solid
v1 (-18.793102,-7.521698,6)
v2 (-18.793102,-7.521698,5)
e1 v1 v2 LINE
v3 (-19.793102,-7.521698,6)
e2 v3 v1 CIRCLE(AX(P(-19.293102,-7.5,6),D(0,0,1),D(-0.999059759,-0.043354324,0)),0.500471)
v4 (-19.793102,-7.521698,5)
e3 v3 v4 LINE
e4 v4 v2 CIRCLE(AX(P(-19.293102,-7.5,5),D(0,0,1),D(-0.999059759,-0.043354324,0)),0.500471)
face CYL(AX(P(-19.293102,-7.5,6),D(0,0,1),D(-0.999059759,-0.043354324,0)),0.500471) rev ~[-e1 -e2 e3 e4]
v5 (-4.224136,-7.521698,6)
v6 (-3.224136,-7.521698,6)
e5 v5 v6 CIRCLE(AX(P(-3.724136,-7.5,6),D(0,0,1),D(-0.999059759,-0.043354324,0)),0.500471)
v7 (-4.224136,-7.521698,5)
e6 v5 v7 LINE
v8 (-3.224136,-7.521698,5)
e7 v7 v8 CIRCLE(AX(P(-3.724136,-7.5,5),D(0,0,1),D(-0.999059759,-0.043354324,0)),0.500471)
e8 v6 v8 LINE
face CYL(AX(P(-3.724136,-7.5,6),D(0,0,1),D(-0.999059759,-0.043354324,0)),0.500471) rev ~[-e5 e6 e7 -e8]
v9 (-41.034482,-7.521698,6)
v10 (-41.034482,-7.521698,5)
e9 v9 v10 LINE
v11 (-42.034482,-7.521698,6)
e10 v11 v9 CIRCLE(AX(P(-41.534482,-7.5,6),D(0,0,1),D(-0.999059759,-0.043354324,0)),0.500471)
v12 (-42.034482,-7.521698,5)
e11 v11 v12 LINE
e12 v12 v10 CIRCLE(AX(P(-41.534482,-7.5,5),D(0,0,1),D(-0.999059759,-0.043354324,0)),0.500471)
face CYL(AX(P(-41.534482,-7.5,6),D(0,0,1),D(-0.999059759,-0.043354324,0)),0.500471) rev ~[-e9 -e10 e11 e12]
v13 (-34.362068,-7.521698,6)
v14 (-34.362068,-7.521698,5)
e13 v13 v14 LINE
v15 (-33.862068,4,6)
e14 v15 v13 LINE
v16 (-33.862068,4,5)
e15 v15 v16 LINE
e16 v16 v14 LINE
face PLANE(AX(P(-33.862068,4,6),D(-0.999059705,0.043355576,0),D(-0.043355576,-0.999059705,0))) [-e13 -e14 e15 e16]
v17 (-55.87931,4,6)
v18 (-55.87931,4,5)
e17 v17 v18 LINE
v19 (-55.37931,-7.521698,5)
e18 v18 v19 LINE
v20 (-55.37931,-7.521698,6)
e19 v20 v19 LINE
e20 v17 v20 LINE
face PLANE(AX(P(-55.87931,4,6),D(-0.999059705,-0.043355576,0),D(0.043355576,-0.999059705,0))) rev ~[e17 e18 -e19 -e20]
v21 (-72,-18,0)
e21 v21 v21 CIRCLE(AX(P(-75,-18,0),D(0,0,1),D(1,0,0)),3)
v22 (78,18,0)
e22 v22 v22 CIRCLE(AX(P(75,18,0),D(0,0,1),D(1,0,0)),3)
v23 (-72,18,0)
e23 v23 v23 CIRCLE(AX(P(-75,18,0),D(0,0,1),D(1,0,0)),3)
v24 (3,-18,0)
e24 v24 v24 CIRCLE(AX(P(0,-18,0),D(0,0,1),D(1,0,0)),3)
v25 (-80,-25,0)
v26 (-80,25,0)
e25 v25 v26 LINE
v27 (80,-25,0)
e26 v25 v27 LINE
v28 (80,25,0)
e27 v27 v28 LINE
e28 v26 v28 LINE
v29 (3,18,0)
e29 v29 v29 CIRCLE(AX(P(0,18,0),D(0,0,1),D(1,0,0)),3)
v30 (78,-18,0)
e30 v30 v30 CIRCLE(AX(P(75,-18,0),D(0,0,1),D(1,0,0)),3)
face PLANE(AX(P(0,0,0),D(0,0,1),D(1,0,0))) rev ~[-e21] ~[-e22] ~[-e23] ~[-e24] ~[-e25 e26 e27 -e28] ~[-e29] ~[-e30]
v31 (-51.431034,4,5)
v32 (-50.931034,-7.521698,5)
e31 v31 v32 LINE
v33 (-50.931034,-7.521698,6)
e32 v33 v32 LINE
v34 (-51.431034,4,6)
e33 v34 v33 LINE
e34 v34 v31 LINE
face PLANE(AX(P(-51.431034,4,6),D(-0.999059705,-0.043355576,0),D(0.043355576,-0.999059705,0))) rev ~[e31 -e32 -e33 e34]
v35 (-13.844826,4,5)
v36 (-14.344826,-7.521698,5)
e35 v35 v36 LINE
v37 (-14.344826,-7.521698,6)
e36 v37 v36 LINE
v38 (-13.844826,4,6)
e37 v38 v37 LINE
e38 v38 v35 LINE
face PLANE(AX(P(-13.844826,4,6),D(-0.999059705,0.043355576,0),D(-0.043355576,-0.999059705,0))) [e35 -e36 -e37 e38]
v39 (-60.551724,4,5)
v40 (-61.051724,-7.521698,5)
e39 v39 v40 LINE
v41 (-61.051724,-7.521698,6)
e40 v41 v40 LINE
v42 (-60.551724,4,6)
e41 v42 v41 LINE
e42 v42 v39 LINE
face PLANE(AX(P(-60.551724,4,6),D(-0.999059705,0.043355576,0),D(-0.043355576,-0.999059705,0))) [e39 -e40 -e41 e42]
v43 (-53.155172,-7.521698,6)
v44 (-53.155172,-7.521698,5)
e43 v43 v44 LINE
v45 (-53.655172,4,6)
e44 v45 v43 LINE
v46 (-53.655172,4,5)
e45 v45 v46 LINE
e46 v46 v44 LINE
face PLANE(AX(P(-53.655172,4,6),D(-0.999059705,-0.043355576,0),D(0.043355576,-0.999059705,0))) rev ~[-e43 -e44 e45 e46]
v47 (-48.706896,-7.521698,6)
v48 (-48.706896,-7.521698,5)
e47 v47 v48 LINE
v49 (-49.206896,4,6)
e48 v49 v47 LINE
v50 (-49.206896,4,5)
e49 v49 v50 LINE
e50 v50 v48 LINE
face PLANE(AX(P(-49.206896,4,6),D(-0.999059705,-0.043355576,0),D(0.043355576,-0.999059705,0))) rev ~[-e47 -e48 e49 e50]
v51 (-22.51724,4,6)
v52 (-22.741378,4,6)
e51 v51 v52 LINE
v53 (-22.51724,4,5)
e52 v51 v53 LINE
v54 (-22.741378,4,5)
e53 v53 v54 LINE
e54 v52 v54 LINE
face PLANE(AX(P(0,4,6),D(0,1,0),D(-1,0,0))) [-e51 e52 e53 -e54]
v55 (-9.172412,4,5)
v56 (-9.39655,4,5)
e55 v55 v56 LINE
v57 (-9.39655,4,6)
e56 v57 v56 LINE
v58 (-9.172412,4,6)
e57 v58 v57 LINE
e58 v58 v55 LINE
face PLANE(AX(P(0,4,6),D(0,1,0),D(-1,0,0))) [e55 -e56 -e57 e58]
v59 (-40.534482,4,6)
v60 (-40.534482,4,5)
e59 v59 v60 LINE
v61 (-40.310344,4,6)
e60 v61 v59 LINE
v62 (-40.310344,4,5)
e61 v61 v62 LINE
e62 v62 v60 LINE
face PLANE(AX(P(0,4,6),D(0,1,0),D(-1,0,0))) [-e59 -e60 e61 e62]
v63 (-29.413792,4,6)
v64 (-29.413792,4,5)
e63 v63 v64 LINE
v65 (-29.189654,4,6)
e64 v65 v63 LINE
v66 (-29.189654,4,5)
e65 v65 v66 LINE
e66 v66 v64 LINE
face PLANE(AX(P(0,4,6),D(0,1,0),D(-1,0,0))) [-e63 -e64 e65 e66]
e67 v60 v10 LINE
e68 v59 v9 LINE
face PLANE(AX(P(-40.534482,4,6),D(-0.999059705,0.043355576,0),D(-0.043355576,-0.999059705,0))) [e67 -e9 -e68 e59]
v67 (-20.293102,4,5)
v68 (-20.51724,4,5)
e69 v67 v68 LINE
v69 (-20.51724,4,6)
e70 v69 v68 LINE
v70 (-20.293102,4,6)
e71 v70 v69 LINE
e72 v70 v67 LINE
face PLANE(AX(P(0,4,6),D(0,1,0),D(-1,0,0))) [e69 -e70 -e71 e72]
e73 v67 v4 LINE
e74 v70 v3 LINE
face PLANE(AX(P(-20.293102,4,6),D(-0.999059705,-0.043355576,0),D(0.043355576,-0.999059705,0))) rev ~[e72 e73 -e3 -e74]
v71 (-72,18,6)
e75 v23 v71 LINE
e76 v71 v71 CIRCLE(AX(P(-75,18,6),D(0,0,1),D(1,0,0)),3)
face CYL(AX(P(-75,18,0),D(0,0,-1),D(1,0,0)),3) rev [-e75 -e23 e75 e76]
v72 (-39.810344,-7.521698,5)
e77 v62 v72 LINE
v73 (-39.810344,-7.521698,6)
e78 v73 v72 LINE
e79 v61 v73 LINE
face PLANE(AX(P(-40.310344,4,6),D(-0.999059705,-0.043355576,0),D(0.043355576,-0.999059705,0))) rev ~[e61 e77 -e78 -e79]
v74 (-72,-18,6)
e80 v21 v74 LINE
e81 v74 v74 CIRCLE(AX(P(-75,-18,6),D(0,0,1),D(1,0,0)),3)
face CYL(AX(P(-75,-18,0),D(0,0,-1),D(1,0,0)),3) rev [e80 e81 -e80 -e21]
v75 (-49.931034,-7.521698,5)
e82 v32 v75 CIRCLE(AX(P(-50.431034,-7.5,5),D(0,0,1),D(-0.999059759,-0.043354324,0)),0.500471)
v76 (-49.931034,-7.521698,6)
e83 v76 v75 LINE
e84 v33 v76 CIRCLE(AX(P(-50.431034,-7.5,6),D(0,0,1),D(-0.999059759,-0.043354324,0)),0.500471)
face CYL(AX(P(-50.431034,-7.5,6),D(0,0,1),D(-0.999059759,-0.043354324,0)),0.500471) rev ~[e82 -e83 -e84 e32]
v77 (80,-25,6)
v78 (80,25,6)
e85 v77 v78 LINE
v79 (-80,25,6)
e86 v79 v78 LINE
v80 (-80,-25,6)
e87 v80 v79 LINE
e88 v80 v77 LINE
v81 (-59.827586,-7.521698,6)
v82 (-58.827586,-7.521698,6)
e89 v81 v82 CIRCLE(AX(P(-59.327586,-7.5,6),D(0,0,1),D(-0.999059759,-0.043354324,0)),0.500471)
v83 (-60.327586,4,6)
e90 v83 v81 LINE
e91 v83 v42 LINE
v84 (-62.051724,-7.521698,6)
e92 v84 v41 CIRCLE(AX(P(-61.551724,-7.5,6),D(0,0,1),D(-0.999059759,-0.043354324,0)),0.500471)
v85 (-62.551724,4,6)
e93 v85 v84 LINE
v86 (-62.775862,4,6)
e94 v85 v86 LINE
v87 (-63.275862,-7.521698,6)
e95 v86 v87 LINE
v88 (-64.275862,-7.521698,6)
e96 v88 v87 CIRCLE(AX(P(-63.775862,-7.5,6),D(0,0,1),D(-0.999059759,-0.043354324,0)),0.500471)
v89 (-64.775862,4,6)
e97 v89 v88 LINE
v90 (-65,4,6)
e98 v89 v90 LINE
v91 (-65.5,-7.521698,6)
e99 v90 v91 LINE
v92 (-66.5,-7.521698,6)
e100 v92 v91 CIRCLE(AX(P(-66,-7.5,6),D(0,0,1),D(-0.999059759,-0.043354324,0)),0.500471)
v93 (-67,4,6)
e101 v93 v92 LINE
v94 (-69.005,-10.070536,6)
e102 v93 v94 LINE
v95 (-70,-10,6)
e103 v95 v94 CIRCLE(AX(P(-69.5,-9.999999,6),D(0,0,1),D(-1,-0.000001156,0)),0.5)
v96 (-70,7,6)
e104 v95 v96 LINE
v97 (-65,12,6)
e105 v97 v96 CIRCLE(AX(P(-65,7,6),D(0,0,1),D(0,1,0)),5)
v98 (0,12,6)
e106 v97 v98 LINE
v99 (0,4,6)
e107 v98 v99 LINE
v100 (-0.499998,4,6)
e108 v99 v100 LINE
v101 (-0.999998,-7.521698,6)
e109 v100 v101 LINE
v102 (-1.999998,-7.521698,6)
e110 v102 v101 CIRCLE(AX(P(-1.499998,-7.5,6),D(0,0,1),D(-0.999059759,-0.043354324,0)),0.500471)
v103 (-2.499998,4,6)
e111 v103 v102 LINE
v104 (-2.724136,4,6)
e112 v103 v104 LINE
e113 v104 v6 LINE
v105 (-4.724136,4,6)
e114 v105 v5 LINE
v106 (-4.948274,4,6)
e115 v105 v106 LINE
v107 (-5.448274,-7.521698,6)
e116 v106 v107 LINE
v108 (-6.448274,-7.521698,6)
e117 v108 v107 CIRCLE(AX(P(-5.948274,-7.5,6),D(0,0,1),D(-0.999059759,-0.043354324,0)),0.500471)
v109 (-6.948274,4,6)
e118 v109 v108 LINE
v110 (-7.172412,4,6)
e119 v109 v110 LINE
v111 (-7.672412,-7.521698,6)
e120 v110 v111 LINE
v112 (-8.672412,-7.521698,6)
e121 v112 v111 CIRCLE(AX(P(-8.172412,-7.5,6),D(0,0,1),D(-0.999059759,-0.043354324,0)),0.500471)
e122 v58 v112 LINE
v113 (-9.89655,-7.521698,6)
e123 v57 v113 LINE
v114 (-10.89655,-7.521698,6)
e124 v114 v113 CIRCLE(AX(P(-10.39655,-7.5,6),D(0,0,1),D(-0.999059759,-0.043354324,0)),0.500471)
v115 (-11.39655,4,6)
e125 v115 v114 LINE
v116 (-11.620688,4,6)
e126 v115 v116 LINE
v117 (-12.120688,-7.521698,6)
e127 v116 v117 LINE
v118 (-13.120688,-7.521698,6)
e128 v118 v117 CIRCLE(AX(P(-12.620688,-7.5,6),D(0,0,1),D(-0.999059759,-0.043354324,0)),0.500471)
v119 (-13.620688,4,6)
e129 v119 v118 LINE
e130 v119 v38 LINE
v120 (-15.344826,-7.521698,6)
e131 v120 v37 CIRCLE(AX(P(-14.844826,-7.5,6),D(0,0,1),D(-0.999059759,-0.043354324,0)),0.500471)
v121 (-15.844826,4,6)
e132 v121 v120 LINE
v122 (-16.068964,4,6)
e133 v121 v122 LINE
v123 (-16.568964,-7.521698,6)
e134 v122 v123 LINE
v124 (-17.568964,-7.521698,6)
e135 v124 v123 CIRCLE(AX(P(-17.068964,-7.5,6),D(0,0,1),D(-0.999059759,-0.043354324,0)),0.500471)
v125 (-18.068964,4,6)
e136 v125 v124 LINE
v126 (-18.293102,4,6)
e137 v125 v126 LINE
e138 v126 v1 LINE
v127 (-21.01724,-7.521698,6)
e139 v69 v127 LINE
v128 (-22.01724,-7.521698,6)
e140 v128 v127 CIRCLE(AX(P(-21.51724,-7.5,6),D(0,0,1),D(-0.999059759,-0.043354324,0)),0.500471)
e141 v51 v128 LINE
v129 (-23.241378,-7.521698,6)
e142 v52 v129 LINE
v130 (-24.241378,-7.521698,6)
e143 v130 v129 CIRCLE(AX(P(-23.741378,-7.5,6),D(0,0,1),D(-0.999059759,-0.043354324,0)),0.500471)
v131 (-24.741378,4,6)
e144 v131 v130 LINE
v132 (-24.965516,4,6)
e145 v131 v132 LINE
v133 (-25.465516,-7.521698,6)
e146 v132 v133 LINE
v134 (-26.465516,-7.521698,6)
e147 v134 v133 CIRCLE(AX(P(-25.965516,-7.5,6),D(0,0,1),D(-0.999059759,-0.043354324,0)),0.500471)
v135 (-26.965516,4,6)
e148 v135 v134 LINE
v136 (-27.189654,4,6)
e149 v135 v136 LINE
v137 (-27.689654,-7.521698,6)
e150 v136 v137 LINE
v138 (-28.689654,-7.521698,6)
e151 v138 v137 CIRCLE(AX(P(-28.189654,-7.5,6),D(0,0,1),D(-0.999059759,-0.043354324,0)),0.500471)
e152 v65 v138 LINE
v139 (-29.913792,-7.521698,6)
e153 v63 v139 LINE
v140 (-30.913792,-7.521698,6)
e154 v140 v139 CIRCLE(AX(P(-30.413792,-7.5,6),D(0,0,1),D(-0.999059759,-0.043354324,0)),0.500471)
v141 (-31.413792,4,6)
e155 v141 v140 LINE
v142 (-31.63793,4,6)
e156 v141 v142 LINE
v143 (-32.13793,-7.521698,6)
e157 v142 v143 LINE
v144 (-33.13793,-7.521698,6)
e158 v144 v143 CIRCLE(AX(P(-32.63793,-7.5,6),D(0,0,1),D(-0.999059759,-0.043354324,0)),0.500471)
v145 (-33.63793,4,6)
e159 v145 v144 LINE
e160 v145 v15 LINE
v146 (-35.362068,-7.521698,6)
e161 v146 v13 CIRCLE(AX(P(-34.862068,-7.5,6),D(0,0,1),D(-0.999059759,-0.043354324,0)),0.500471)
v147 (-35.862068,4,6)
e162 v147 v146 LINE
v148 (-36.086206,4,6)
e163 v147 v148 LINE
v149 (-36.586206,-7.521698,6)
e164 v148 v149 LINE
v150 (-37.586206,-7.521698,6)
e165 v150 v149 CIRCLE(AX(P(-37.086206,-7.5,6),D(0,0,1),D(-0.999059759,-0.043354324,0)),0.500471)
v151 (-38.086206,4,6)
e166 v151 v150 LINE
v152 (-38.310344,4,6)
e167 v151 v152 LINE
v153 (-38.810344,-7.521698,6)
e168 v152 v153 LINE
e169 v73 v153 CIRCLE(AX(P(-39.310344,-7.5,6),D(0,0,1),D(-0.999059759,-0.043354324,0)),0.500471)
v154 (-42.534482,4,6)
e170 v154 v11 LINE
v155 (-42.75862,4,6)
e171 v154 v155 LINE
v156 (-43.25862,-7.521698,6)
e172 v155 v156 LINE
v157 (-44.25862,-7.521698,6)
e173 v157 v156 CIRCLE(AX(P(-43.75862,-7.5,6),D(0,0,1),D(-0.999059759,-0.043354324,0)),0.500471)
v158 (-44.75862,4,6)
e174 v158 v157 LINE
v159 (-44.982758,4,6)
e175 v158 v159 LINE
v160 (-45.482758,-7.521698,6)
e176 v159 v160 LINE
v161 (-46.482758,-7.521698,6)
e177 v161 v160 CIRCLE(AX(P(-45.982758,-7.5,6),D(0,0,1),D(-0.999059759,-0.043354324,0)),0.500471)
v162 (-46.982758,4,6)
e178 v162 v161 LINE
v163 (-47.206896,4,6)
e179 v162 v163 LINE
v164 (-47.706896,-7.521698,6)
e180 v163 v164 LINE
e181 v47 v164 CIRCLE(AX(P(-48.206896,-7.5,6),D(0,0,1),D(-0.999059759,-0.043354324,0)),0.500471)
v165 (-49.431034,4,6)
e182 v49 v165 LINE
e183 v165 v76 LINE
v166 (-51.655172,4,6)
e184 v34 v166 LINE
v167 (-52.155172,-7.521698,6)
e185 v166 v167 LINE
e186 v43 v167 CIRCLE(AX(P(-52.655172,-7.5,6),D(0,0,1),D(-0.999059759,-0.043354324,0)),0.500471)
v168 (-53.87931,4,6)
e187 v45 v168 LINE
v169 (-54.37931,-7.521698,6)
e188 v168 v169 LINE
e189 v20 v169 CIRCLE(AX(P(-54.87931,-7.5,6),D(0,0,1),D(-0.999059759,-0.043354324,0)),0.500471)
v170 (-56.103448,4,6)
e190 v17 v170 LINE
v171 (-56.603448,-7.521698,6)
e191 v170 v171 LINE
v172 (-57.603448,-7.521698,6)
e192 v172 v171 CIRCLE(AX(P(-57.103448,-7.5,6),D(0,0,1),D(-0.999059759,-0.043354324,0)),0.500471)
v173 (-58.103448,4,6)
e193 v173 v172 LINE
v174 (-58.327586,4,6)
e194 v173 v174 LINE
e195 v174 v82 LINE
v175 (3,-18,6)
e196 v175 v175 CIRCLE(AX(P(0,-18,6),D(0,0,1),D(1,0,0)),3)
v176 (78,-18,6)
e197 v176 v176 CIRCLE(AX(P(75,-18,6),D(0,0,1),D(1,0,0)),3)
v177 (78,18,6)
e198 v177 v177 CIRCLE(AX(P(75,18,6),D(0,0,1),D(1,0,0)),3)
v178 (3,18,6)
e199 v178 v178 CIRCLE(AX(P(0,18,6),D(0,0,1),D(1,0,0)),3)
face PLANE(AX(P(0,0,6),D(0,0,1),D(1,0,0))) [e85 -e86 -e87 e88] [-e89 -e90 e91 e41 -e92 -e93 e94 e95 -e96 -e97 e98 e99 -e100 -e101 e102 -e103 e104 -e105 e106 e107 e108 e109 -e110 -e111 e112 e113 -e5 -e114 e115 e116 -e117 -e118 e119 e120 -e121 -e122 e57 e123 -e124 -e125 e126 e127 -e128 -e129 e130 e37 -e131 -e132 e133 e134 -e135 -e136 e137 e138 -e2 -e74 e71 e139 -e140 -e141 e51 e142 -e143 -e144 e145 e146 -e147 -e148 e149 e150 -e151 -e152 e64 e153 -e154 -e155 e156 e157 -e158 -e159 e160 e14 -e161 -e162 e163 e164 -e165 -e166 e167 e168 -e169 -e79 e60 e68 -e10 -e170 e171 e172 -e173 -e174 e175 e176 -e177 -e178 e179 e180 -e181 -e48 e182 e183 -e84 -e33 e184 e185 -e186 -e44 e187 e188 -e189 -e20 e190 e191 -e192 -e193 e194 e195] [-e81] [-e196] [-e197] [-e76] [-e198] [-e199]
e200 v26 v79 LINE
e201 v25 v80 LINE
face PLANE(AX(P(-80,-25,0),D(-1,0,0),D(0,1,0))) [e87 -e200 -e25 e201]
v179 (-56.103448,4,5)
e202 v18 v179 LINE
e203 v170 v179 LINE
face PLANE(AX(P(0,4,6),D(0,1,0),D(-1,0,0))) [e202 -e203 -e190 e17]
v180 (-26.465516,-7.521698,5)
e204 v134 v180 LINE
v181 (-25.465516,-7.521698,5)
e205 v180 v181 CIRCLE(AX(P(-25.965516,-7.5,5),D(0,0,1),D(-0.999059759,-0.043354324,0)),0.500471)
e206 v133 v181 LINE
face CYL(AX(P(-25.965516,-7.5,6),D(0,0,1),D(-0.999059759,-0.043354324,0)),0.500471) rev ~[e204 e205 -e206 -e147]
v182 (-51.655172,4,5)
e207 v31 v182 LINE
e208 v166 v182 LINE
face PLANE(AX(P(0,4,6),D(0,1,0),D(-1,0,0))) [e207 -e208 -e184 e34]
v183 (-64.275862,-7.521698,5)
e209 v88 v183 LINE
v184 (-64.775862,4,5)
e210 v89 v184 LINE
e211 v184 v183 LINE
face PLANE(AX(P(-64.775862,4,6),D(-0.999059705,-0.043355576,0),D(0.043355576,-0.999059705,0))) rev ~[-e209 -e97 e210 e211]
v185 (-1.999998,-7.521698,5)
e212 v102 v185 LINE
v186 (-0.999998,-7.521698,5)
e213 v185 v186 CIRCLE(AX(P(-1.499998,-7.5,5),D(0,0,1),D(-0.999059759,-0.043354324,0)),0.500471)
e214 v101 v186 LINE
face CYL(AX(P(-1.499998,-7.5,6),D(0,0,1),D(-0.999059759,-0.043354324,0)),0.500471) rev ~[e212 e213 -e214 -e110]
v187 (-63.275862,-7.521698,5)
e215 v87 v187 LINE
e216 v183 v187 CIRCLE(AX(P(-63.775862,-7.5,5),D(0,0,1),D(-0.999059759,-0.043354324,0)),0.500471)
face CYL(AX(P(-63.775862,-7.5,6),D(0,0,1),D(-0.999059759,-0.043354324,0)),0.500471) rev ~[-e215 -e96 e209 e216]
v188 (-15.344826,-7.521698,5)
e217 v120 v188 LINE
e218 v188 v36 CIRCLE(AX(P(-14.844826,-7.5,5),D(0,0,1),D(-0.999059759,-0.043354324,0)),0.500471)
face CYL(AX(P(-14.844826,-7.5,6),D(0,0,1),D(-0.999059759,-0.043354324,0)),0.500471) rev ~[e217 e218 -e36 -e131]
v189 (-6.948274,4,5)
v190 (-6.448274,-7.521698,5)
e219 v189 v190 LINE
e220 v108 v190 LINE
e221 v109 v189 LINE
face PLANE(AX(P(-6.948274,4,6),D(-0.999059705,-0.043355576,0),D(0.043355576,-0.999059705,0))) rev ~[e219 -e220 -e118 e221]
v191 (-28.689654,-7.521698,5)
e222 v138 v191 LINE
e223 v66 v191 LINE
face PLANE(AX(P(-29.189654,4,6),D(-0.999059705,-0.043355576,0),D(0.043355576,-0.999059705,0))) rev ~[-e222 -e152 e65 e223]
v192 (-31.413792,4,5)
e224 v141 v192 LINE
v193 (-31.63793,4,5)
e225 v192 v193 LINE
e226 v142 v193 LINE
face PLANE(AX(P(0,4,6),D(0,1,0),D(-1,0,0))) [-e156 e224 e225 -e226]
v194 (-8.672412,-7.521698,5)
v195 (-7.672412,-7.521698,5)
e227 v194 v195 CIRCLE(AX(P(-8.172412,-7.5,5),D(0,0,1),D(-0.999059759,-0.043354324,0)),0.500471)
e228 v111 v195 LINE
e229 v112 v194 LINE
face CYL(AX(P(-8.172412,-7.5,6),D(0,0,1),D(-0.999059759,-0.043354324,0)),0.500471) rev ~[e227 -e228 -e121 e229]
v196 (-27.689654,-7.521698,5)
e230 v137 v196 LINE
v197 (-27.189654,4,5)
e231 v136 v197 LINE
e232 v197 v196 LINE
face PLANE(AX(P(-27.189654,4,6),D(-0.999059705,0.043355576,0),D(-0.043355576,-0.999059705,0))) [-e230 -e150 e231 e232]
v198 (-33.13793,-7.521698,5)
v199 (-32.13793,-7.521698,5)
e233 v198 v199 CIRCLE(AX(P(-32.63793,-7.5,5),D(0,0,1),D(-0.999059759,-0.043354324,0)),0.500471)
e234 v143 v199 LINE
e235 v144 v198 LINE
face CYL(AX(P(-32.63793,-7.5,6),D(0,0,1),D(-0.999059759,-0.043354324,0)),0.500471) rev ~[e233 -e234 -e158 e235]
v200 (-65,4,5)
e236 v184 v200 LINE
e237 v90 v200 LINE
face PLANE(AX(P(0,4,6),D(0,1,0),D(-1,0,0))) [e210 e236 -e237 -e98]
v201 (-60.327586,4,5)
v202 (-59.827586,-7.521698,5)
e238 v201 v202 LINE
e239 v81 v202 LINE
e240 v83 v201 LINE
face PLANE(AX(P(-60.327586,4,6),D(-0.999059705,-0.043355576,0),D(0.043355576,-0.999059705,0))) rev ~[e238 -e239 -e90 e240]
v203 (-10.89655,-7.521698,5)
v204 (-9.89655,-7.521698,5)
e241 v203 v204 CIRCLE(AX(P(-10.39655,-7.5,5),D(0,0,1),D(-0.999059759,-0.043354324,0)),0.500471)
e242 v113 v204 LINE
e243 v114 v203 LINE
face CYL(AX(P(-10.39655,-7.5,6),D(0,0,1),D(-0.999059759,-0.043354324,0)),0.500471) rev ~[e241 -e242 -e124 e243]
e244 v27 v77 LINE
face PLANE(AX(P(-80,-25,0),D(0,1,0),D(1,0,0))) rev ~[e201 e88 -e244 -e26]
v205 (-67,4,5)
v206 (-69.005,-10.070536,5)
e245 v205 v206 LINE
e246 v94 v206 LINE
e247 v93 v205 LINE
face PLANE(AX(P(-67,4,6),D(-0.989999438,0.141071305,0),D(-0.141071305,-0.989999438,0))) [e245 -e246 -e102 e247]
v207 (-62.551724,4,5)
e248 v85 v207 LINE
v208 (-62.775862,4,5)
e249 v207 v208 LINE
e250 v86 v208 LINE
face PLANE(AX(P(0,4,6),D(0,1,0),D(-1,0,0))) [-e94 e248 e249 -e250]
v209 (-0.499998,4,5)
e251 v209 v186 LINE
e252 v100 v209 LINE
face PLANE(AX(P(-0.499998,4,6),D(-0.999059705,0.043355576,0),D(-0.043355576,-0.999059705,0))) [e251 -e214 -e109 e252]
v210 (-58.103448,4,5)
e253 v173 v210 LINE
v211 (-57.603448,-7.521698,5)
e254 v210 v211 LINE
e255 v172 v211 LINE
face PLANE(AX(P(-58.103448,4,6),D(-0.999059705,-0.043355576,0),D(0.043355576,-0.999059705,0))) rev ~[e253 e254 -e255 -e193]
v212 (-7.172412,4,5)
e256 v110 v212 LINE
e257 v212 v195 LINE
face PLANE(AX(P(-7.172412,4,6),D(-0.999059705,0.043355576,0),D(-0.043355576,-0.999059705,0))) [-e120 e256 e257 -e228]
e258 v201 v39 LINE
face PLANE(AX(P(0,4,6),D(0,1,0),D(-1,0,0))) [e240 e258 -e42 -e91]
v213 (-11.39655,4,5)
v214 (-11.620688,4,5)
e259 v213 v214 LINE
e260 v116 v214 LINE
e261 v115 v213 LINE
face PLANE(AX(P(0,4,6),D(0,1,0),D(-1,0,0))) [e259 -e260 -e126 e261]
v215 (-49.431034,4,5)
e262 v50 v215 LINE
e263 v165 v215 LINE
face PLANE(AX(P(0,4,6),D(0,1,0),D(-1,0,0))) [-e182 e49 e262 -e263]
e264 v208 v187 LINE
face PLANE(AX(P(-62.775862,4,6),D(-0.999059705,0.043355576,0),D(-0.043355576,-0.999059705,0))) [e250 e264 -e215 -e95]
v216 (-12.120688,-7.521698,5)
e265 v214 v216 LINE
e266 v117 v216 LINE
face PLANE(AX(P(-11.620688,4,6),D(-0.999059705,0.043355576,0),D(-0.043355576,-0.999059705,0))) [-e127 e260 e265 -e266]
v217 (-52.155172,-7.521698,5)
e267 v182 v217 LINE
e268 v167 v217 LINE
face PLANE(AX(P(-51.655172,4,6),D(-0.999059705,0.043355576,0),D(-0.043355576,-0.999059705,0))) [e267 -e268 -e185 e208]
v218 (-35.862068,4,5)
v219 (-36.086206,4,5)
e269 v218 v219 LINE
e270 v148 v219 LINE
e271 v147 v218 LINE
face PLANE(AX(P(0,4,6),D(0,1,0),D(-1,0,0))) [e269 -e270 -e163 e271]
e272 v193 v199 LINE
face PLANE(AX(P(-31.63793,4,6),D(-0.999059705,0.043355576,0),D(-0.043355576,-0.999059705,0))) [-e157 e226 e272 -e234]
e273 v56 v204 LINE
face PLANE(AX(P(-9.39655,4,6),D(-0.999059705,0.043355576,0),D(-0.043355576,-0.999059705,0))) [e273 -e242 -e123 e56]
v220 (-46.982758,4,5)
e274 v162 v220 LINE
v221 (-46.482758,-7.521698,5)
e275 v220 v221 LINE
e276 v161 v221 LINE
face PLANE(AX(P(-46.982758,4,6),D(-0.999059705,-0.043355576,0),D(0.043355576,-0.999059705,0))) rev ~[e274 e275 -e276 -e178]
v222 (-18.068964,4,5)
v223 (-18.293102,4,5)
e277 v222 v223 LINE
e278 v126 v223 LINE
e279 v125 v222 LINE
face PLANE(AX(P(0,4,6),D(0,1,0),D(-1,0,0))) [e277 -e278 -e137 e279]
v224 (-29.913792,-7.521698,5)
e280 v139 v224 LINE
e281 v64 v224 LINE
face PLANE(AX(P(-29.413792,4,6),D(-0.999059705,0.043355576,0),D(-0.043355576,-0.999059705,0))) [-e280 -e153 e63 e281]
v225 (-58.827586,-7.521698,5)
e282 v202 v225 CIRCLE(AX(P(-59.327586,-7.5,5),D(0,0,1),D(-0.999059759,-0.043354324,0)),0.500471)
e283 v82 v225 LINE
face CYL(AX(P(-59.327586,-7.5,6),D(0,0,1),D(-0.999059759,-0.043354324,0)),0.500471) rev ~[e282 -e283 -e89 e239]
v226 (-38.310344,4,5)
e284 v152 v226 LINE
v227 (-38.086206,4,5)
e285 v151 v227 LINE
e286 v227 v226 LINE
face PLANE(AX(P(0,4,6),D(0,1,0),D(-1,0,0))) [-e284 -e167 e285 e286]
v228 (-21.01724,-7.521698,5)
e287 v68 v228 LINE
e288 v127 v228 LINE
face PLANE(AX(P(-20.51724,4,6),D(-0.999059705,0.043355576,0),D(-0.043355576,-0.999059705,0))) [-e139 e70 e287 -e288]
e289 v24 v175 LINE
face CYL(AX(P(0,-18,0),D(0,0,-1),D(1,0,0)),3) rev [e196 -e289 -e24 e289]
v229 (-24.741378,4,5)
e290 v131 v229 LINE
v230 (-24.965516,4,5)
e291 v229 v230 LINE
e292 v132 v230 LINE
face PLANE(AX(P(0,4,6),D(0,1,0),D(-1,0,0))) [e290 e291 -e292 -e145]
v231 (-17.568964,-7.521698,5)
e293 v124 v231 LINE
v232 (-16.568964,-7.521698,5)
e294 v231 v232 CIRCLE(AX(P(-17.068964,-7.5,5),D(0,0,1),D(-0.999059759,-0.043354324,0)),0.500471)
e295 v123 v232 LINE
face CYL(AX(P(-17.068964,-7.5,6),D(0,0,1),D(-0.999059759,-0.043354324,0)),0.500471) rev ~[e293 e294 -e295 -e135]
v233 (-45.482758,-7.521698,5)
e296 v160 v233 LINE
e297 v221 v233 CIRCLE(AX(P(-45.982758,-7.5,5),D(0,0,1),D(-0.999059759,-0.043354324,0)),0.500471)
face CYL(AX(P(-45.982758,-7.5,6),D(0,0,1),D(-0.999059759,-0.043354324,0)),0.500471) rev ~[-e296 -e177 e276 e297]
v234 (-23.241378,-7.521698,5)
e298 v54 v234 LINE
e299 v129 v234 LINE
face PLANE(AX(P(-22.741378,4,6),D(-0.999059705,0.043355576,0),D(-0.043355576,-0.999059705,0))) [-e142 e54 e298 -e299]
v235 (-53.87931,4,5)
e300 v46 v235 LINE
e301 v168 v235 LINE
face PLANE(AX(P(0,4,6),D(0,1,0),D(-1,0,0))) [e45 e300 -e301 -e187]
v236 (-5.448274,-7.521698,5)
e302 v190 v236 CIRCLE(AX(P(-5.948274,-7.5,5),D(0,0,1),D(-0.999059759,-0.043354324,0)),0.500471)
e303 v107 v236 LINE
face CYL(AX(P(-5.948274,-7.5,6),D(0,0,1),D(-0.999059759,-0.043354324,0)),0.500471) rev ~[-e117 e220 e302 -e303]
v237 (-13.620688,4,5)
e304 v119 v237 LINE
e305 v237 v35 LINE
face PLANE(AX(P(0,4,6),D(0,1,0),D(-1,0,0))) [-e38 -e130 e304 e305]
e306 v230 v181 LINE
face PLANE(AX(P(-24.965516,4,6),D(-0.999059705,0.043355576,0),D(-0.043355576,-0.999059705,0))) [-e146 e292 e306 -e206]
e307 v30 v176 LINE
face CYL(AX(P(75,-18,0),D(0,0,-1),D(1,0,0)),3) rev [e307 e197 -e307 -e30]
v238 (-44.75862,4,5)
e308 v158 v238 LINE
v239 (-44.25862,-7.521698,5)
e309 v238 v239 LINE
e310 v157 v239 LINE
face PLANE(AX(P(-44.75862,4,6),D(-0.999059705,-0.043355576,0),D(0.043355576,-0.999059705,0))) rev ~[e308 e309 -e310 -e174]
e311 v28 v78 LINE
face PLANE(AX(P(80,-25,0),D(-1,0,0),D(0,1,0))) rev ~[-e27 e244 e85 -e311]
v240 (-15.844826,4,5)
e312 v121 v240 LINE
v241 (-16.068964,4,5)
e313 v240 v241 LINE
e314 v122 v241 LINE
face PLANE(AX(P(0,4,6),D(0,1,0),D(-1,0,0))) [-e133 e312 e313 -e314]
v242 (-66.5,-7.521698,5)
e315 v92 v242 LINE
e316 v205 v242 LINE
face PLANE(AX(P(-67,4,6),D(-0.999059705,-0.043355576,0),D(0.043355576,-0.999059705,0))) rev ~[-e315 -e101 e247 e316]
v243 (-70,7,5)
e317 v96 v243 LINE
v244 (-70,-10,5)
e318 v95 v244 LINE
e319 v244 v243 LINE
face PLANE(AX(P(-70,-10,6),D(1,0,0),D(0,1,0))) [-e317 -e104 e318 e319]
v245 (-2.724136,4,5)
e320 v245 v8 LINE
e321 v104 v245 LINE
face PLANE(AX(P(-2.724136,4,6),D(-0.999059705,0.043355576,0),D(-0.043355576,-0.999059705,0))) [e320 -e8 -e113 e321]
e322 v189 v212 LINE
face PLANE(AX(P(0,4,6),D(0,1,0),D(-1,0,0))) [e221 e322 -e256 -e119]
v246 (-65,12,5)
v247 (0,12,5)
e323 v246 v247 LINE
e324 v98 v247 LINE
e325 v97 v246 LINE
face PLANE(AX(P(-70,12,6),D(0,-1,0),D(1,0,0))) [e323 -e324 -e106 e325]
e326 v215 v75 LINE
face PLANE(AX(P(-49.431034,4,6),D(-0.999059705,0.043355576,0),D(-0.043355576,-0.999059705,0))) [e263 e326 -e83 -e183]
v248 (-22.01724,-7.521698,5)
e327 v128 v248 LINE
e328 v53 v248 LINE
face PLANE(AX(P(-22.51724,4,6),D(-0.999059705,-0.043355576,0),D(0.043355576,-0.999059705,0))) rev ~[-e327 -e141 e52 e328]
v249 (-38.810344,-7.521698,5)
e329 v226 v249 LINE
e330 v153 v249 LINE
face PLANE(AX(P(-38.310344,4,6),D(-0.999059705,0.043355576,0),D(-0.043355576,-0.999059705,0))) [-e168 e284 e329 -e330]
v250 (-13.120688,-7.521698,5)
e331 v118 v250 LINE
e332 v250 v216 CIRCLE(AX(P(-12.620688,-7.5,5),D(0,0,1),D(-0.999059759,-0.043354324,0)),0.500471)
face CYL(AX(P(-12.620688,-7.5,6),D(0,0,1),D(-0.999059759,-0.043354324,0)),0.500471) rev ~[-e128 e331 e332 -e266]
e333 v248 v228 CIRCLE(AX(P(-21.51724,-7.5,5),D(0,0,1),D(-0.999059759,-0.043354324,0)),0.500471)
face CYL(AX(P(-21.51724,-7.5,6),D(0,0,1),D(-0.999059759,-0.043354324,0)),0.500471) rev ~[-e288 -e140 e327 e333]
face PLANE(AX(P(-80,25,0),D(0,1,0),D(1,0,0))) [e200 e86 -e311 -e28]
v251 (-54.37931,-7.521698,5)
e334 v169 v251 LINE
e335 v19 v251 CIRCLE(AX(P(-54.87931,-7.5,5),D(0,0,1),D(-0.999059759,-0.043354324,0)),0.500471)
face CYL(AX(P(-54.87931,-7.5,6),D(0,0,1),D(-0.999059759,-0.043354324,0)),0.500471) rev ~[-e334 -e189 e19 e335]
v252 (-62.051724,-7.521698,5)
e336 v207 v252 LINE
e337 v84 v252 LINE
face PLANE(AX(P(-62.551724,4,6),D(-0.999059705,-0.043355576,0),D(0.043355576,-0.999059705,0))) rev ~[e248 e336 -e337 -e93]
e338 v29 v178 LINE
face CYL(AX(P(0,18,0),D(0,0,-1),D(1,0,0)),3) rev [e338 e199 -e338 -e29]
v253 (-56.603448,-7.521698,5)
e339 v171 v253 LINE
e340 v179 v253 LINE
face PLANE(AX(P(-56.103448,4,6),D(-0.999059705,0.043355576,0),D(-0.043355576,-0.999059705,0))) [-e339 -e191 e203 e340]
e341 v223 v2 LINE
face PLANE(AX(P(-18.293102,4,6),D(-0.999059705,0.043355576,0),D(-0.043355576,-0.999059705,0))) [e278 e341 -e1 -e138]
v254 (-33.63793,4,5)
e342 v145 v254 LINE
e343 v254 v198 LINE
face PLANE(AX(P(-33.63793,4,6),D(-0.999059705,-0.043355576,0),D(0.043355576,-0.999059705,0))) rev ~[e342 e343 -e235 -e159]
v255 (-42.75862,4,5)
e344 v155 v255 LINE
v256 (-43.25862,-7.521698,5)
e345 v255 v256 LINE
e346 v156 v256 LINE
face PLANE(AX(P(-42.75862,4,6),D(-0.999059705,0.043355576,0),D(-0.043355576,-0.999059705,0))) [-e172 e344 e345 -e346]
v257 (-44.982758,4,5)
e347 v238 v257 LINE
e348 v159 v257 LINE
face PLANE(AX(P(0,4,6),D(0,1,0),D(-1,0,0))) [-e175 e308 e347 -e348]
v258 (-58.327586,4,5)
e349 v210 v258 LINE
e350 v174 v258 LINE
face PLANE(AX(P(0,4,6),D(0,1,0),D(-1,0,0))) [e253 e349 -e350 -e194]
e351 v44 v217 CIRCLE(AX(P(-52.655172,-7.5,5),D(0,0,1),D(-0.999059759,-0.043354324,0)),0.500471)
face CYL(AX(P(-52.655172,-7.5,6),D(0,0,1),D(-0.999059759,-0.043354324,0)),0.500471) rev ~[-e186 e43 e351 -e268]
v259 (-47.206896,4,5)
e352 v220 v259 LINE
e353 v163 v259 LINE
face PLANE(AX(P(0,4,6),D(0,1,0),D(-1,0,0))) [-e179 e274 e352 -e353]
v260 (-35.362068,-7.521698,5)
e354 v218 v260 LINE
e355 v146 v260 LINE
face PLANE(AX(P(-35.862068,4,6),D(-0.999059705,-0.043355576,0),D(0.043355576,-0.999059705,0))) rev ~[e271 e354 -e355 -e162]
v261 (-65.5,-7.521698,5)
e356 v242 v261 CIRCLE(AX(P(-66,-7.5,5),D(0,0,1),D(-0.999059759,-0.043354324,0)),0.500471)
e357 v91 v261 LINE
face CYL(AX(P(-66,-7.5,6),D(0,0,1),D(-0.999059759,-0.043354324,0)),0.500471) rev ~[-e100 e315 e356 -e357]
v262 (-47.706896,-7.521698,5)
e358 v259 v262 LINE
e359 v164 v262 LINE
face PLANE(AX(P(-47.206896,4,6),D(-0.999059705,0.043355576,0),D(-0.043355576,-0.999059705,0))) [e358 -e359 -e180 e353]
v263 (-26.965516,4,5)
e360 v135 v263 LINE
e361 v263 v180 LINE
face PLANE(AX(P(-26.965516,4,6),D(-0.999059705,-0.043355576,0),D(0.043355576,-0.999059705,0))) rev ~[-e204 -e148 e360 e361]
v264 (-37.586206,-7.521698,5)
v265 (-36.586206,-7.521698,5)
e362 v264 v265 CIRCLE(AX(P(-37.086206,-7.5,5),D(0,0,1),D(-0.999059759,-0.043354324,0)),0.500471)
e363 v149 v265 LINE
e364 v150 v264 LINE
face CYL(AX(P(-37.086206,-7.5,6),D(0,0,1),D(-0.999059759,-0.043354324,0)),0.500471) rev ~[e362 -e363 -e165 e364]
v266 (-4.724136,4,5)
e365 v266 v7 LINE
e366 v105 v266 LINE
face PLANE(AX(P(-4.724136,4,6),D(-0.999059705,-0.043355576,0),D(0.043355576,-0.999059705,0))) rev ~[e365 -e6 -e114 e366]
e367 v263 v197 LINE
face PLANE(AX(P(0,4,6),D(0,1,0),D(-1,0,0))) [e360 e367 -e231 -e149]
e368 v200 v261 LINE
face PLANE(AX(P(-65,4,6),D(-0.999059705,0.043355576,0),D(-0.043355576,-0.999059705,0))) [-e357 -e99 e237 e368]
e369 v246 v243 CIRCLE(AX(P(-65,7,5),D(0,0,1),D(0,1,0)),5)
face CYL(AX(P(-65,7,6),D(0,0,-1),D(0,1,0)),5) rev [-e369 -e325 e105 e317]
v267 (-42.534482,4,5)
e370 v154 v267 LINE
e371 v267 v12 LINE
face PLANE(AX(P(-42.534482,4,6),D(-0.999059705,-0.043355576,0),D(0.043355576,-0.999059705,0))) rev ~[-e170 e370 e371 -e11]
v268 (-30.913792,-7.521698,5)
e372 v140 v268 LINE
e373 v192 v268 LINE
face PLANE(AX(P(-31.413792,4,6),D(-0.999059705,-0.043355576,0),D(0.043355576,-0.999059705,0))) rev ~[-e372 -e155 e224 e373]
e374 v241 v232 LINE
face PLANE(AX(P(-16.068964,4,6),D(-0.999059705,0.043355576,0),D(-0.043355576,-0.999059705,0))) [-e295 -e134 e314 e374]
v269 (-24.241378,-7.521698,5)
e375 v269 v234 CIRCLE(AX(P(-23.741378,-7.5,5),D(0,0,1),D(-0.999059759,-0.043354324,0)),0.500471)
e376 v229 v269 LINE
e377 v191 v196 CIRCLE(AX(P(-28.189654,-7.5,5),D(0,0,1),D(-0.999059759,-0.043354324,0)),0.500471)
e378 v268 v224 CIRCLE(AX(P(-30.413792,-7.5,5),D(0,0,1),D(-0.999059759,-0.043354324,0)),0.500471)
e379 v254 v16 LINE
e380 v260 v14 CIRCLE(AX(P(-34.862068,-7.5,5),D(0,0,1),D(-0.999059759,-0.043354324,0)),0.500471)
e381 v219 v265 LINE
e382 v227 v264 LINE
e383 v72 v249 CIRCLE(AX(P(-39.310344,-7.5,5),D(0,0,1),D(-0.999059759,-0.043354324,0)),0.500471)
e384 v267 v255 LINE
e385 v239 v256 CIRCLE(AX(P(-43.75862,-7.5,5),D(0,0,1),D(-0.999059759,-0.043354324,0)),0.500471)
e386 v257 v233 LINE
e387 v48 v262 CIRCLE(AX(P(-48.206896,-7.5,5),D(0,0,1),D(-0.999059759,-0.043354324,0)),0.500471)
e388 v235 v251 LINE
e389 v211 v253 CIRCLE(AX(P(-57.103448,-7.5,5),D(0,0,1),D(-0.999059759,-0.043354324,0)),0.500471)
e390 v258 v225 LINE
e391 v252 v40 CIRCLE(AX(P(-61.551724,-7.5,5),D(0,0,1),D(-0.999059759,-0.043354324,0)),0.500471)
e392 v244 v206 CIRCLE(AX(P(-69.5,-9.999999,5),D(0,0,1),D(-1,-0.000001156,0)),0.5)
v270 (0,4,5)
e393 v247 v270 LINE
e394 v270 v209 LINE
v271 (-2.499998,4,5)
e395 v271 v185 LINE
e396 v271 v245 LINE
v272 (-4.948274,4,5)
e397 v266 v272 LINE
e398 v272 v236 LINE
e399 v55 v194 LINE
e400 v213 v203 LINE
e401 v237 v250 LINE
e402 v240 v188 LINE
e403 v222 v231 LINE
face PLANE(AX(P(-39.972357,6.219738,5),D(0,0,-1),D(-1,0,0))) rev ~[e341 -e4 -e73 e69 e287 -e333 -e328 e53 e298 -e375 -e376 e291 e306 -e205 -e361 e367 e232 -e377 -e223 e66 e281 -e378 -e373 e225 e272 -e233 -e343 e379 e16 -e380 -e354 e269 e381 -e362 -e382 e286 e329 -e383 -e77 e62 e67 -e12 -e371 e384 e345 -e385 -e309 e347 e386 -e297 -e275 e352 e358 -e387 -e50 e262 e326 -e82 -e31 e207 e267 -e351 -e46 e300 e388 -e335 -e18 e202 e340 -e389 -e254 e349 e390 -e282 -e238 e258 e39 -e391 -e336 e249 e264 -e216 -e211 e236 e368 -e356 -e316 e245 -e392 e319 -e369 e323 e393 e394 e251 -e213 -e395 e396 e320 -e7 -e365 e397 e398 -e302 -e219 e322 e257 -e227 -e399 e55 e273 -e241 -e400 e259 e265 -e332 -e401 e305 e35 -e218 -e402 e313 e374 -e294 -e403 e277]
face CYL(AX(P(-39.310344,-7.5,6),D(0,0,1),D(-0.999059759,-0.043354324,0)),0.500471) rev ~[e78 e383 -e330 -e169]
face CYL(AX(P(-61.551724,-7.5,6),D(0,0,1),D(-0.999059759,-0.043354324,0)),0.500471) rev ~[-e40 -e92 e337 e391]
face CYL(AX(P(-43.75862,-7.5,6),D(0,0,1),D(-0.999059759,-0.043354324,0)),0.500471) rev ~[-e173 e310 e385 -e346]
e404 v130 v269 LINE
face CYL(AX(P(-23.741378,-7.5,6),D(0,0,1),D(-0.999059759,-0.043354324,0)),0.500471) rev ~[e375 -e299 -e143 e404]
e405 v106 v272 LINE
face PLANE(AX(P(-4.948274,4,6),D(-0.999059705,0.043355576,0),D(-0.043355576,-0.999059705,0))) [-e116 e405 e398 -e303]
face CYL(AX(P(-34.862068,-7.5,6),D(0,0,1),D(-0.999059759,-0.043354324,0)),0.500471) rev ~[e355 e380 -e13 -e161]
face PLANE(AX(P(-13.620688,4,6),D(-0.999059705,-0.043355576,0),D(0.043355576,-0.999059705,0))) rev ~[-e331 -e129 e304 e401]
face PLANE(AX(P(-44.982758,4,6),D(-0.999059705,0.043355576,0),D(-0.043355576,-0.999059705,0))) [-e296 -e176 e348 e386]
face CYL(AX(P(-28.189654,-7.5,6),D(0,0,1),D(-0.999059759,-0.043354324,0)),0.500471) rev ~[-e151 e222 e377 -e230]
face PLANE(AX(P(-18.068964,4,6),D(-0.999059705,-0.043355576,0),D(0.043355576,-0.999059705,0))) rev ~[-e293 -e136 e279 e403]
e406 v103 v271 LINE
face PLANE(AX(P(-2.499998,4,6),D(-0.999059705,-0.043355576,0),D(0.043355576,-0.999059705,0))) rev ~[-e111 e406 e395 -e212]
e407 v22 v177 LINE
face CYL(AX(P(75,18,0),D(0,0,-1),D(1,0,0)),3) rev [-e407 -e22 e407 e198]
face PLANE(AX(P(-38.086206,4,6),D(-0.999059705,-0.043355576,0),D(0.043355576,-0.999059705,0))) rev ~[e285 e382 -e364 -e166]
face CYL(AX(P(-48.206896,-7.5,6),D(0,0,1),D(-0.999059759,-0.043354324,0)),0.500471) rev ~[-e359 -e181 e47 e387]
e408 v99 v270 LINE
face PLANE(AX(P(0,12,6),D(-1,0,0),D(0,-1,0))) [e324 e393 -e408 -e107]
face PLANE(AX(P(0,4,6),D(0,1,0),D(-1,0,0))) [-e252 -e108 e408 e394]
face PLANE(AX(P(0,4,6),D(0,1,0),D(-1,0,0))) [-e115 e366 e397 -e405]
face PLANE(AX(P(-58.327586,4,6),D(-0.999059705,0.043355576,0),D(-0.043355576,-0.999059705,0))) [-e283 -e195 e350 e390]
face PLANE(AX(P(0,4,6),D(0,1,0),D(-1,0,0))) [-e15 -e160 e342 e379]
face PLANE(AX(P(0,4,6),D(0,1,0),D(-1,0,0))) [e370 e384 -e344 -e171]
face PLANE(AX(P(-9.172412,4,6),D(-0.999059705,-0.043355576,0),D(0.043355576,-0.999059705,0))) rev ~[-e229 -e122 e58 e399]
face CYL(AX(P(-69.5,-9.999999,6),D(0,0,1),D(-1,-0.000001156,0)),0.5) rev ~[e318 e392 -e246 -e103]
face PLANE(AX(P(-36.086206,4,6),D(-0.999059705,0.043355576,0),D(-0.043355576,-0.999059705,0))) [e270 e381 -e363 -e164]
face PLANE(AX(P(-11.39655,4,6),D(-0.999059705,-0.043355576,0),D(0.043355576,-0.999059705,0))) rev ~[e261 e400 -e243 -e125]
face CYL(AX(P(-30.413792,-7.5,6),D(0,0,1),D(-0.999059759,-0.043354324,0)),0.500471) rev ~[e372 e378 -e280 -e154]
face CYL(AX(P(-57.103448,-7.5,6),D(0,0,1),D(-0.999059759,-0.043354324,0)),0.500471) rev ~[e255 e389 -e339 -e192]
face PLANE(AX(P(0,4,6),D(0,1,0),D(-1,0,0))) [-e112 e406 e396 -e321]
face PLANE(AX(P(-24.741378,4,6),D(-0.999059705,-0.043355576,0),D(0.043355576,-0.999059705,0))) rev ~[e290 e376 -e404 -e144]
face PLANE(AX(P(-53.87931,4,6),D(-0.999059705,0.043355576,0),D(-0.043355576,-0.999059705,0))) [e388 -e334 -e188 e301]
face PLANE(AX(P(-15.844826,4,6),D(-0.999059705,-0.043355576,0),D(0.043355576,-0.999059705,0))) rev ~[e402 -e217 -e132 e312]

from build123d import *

# Parameters (mm, degrees)
SKETCH_W            = 160
SKETCH_H            = 50
SKETCH_R            = 3
PAD_DEPTH           = 6
POCKET_DEPTH        = 1
POCKET001_DEPTH     = 1
LINEARPATTERN_COUNT = 30
LINEARPATTERN_PITCH = 2.224138
FILLET_R            = 5


with BuildPart() as part:
    # Sketch → Pad (new body)
    with BuildSketch(Plane.XY):
        Rectangle(SKETCH_W, SKETCH_H)
        with Locations((-75, 18)):
            Circle(SKETCH_R, mode=Mode.SUBTRACT)
        with Locations((75, 18)):
            Circle(SKETCH_R, mode=Mode.SUBTRACT)
        with Locations((75, -18)):
            Circle(SKETCH_R, mode=Mode.SUBTRACT)
        with Locations((-75, -18)):
            Circle(SKETCH_R, mode=Mode.SUBTRACT)
        with Locations((0, -18)):
            Circle(SKETCH_R, mode=Mode.SUBTRACT)
        with Locations((0, 18)):
            Circle(SKETCH_R, mode=Mode.SUBTRACT)
    extrude(amount=PAD_DEPTH)

    # Sketch001 (on Face12 of Pad) → Pocket (cut)
    with BuildSketch(Plane.XY.offset(6)):
        with BuildLine():
            Line((-70, -10), (-70, 12))
            Line((-70, 12), (0, 12))
            Line((0, 12), (0, 4))
            Line((0, 4), (-67, 4))
            Line((-67, 4), (-69.005, -10.070536))
            ThreePointArc((-70, -10), (-69.535356, -10.498748), (-69.005, -10.070536))
        make_face()
    extrude(amount=-POCKET_DEPTH, mode=Mode.SUBTRACT)

    # Sketch002 → Pocket001 (cut)
    with BuildSketch(Plane.XY.offset(6)):
        with BuildLine():
            Line((-67, 4), (-66.5, -7.521698))
            ThreePointArc((-66.5, -7.521698), (-66, -8.000471), (-65.5, -7.521698))
            Line((-65, 4), (-65.5, -7.521698))
            Line((-67, 4), (-65, 4))
        make_face()
    pocket001 = extrude(amount=-POCKET001_DEPTH, mode=Mode.SUBTRACT)

    # LinearPattern: Pocket001 ×30
    with Locations(*[(i * LINEARPATTERN_PITCH, 0, 0) for i in range(1, LINEARPATTERN_COUNT)]):
        add(pocket001, mode=Mode.SUBTRACT)

    # Fillet
    fillet_edges = [part.edges().sort_by_distance(p)[0] for p in [
        (-70, 12, 5.5),
    ]]
    fillet(fillet_edges, radius=FILLET_R)


solid = part.part
